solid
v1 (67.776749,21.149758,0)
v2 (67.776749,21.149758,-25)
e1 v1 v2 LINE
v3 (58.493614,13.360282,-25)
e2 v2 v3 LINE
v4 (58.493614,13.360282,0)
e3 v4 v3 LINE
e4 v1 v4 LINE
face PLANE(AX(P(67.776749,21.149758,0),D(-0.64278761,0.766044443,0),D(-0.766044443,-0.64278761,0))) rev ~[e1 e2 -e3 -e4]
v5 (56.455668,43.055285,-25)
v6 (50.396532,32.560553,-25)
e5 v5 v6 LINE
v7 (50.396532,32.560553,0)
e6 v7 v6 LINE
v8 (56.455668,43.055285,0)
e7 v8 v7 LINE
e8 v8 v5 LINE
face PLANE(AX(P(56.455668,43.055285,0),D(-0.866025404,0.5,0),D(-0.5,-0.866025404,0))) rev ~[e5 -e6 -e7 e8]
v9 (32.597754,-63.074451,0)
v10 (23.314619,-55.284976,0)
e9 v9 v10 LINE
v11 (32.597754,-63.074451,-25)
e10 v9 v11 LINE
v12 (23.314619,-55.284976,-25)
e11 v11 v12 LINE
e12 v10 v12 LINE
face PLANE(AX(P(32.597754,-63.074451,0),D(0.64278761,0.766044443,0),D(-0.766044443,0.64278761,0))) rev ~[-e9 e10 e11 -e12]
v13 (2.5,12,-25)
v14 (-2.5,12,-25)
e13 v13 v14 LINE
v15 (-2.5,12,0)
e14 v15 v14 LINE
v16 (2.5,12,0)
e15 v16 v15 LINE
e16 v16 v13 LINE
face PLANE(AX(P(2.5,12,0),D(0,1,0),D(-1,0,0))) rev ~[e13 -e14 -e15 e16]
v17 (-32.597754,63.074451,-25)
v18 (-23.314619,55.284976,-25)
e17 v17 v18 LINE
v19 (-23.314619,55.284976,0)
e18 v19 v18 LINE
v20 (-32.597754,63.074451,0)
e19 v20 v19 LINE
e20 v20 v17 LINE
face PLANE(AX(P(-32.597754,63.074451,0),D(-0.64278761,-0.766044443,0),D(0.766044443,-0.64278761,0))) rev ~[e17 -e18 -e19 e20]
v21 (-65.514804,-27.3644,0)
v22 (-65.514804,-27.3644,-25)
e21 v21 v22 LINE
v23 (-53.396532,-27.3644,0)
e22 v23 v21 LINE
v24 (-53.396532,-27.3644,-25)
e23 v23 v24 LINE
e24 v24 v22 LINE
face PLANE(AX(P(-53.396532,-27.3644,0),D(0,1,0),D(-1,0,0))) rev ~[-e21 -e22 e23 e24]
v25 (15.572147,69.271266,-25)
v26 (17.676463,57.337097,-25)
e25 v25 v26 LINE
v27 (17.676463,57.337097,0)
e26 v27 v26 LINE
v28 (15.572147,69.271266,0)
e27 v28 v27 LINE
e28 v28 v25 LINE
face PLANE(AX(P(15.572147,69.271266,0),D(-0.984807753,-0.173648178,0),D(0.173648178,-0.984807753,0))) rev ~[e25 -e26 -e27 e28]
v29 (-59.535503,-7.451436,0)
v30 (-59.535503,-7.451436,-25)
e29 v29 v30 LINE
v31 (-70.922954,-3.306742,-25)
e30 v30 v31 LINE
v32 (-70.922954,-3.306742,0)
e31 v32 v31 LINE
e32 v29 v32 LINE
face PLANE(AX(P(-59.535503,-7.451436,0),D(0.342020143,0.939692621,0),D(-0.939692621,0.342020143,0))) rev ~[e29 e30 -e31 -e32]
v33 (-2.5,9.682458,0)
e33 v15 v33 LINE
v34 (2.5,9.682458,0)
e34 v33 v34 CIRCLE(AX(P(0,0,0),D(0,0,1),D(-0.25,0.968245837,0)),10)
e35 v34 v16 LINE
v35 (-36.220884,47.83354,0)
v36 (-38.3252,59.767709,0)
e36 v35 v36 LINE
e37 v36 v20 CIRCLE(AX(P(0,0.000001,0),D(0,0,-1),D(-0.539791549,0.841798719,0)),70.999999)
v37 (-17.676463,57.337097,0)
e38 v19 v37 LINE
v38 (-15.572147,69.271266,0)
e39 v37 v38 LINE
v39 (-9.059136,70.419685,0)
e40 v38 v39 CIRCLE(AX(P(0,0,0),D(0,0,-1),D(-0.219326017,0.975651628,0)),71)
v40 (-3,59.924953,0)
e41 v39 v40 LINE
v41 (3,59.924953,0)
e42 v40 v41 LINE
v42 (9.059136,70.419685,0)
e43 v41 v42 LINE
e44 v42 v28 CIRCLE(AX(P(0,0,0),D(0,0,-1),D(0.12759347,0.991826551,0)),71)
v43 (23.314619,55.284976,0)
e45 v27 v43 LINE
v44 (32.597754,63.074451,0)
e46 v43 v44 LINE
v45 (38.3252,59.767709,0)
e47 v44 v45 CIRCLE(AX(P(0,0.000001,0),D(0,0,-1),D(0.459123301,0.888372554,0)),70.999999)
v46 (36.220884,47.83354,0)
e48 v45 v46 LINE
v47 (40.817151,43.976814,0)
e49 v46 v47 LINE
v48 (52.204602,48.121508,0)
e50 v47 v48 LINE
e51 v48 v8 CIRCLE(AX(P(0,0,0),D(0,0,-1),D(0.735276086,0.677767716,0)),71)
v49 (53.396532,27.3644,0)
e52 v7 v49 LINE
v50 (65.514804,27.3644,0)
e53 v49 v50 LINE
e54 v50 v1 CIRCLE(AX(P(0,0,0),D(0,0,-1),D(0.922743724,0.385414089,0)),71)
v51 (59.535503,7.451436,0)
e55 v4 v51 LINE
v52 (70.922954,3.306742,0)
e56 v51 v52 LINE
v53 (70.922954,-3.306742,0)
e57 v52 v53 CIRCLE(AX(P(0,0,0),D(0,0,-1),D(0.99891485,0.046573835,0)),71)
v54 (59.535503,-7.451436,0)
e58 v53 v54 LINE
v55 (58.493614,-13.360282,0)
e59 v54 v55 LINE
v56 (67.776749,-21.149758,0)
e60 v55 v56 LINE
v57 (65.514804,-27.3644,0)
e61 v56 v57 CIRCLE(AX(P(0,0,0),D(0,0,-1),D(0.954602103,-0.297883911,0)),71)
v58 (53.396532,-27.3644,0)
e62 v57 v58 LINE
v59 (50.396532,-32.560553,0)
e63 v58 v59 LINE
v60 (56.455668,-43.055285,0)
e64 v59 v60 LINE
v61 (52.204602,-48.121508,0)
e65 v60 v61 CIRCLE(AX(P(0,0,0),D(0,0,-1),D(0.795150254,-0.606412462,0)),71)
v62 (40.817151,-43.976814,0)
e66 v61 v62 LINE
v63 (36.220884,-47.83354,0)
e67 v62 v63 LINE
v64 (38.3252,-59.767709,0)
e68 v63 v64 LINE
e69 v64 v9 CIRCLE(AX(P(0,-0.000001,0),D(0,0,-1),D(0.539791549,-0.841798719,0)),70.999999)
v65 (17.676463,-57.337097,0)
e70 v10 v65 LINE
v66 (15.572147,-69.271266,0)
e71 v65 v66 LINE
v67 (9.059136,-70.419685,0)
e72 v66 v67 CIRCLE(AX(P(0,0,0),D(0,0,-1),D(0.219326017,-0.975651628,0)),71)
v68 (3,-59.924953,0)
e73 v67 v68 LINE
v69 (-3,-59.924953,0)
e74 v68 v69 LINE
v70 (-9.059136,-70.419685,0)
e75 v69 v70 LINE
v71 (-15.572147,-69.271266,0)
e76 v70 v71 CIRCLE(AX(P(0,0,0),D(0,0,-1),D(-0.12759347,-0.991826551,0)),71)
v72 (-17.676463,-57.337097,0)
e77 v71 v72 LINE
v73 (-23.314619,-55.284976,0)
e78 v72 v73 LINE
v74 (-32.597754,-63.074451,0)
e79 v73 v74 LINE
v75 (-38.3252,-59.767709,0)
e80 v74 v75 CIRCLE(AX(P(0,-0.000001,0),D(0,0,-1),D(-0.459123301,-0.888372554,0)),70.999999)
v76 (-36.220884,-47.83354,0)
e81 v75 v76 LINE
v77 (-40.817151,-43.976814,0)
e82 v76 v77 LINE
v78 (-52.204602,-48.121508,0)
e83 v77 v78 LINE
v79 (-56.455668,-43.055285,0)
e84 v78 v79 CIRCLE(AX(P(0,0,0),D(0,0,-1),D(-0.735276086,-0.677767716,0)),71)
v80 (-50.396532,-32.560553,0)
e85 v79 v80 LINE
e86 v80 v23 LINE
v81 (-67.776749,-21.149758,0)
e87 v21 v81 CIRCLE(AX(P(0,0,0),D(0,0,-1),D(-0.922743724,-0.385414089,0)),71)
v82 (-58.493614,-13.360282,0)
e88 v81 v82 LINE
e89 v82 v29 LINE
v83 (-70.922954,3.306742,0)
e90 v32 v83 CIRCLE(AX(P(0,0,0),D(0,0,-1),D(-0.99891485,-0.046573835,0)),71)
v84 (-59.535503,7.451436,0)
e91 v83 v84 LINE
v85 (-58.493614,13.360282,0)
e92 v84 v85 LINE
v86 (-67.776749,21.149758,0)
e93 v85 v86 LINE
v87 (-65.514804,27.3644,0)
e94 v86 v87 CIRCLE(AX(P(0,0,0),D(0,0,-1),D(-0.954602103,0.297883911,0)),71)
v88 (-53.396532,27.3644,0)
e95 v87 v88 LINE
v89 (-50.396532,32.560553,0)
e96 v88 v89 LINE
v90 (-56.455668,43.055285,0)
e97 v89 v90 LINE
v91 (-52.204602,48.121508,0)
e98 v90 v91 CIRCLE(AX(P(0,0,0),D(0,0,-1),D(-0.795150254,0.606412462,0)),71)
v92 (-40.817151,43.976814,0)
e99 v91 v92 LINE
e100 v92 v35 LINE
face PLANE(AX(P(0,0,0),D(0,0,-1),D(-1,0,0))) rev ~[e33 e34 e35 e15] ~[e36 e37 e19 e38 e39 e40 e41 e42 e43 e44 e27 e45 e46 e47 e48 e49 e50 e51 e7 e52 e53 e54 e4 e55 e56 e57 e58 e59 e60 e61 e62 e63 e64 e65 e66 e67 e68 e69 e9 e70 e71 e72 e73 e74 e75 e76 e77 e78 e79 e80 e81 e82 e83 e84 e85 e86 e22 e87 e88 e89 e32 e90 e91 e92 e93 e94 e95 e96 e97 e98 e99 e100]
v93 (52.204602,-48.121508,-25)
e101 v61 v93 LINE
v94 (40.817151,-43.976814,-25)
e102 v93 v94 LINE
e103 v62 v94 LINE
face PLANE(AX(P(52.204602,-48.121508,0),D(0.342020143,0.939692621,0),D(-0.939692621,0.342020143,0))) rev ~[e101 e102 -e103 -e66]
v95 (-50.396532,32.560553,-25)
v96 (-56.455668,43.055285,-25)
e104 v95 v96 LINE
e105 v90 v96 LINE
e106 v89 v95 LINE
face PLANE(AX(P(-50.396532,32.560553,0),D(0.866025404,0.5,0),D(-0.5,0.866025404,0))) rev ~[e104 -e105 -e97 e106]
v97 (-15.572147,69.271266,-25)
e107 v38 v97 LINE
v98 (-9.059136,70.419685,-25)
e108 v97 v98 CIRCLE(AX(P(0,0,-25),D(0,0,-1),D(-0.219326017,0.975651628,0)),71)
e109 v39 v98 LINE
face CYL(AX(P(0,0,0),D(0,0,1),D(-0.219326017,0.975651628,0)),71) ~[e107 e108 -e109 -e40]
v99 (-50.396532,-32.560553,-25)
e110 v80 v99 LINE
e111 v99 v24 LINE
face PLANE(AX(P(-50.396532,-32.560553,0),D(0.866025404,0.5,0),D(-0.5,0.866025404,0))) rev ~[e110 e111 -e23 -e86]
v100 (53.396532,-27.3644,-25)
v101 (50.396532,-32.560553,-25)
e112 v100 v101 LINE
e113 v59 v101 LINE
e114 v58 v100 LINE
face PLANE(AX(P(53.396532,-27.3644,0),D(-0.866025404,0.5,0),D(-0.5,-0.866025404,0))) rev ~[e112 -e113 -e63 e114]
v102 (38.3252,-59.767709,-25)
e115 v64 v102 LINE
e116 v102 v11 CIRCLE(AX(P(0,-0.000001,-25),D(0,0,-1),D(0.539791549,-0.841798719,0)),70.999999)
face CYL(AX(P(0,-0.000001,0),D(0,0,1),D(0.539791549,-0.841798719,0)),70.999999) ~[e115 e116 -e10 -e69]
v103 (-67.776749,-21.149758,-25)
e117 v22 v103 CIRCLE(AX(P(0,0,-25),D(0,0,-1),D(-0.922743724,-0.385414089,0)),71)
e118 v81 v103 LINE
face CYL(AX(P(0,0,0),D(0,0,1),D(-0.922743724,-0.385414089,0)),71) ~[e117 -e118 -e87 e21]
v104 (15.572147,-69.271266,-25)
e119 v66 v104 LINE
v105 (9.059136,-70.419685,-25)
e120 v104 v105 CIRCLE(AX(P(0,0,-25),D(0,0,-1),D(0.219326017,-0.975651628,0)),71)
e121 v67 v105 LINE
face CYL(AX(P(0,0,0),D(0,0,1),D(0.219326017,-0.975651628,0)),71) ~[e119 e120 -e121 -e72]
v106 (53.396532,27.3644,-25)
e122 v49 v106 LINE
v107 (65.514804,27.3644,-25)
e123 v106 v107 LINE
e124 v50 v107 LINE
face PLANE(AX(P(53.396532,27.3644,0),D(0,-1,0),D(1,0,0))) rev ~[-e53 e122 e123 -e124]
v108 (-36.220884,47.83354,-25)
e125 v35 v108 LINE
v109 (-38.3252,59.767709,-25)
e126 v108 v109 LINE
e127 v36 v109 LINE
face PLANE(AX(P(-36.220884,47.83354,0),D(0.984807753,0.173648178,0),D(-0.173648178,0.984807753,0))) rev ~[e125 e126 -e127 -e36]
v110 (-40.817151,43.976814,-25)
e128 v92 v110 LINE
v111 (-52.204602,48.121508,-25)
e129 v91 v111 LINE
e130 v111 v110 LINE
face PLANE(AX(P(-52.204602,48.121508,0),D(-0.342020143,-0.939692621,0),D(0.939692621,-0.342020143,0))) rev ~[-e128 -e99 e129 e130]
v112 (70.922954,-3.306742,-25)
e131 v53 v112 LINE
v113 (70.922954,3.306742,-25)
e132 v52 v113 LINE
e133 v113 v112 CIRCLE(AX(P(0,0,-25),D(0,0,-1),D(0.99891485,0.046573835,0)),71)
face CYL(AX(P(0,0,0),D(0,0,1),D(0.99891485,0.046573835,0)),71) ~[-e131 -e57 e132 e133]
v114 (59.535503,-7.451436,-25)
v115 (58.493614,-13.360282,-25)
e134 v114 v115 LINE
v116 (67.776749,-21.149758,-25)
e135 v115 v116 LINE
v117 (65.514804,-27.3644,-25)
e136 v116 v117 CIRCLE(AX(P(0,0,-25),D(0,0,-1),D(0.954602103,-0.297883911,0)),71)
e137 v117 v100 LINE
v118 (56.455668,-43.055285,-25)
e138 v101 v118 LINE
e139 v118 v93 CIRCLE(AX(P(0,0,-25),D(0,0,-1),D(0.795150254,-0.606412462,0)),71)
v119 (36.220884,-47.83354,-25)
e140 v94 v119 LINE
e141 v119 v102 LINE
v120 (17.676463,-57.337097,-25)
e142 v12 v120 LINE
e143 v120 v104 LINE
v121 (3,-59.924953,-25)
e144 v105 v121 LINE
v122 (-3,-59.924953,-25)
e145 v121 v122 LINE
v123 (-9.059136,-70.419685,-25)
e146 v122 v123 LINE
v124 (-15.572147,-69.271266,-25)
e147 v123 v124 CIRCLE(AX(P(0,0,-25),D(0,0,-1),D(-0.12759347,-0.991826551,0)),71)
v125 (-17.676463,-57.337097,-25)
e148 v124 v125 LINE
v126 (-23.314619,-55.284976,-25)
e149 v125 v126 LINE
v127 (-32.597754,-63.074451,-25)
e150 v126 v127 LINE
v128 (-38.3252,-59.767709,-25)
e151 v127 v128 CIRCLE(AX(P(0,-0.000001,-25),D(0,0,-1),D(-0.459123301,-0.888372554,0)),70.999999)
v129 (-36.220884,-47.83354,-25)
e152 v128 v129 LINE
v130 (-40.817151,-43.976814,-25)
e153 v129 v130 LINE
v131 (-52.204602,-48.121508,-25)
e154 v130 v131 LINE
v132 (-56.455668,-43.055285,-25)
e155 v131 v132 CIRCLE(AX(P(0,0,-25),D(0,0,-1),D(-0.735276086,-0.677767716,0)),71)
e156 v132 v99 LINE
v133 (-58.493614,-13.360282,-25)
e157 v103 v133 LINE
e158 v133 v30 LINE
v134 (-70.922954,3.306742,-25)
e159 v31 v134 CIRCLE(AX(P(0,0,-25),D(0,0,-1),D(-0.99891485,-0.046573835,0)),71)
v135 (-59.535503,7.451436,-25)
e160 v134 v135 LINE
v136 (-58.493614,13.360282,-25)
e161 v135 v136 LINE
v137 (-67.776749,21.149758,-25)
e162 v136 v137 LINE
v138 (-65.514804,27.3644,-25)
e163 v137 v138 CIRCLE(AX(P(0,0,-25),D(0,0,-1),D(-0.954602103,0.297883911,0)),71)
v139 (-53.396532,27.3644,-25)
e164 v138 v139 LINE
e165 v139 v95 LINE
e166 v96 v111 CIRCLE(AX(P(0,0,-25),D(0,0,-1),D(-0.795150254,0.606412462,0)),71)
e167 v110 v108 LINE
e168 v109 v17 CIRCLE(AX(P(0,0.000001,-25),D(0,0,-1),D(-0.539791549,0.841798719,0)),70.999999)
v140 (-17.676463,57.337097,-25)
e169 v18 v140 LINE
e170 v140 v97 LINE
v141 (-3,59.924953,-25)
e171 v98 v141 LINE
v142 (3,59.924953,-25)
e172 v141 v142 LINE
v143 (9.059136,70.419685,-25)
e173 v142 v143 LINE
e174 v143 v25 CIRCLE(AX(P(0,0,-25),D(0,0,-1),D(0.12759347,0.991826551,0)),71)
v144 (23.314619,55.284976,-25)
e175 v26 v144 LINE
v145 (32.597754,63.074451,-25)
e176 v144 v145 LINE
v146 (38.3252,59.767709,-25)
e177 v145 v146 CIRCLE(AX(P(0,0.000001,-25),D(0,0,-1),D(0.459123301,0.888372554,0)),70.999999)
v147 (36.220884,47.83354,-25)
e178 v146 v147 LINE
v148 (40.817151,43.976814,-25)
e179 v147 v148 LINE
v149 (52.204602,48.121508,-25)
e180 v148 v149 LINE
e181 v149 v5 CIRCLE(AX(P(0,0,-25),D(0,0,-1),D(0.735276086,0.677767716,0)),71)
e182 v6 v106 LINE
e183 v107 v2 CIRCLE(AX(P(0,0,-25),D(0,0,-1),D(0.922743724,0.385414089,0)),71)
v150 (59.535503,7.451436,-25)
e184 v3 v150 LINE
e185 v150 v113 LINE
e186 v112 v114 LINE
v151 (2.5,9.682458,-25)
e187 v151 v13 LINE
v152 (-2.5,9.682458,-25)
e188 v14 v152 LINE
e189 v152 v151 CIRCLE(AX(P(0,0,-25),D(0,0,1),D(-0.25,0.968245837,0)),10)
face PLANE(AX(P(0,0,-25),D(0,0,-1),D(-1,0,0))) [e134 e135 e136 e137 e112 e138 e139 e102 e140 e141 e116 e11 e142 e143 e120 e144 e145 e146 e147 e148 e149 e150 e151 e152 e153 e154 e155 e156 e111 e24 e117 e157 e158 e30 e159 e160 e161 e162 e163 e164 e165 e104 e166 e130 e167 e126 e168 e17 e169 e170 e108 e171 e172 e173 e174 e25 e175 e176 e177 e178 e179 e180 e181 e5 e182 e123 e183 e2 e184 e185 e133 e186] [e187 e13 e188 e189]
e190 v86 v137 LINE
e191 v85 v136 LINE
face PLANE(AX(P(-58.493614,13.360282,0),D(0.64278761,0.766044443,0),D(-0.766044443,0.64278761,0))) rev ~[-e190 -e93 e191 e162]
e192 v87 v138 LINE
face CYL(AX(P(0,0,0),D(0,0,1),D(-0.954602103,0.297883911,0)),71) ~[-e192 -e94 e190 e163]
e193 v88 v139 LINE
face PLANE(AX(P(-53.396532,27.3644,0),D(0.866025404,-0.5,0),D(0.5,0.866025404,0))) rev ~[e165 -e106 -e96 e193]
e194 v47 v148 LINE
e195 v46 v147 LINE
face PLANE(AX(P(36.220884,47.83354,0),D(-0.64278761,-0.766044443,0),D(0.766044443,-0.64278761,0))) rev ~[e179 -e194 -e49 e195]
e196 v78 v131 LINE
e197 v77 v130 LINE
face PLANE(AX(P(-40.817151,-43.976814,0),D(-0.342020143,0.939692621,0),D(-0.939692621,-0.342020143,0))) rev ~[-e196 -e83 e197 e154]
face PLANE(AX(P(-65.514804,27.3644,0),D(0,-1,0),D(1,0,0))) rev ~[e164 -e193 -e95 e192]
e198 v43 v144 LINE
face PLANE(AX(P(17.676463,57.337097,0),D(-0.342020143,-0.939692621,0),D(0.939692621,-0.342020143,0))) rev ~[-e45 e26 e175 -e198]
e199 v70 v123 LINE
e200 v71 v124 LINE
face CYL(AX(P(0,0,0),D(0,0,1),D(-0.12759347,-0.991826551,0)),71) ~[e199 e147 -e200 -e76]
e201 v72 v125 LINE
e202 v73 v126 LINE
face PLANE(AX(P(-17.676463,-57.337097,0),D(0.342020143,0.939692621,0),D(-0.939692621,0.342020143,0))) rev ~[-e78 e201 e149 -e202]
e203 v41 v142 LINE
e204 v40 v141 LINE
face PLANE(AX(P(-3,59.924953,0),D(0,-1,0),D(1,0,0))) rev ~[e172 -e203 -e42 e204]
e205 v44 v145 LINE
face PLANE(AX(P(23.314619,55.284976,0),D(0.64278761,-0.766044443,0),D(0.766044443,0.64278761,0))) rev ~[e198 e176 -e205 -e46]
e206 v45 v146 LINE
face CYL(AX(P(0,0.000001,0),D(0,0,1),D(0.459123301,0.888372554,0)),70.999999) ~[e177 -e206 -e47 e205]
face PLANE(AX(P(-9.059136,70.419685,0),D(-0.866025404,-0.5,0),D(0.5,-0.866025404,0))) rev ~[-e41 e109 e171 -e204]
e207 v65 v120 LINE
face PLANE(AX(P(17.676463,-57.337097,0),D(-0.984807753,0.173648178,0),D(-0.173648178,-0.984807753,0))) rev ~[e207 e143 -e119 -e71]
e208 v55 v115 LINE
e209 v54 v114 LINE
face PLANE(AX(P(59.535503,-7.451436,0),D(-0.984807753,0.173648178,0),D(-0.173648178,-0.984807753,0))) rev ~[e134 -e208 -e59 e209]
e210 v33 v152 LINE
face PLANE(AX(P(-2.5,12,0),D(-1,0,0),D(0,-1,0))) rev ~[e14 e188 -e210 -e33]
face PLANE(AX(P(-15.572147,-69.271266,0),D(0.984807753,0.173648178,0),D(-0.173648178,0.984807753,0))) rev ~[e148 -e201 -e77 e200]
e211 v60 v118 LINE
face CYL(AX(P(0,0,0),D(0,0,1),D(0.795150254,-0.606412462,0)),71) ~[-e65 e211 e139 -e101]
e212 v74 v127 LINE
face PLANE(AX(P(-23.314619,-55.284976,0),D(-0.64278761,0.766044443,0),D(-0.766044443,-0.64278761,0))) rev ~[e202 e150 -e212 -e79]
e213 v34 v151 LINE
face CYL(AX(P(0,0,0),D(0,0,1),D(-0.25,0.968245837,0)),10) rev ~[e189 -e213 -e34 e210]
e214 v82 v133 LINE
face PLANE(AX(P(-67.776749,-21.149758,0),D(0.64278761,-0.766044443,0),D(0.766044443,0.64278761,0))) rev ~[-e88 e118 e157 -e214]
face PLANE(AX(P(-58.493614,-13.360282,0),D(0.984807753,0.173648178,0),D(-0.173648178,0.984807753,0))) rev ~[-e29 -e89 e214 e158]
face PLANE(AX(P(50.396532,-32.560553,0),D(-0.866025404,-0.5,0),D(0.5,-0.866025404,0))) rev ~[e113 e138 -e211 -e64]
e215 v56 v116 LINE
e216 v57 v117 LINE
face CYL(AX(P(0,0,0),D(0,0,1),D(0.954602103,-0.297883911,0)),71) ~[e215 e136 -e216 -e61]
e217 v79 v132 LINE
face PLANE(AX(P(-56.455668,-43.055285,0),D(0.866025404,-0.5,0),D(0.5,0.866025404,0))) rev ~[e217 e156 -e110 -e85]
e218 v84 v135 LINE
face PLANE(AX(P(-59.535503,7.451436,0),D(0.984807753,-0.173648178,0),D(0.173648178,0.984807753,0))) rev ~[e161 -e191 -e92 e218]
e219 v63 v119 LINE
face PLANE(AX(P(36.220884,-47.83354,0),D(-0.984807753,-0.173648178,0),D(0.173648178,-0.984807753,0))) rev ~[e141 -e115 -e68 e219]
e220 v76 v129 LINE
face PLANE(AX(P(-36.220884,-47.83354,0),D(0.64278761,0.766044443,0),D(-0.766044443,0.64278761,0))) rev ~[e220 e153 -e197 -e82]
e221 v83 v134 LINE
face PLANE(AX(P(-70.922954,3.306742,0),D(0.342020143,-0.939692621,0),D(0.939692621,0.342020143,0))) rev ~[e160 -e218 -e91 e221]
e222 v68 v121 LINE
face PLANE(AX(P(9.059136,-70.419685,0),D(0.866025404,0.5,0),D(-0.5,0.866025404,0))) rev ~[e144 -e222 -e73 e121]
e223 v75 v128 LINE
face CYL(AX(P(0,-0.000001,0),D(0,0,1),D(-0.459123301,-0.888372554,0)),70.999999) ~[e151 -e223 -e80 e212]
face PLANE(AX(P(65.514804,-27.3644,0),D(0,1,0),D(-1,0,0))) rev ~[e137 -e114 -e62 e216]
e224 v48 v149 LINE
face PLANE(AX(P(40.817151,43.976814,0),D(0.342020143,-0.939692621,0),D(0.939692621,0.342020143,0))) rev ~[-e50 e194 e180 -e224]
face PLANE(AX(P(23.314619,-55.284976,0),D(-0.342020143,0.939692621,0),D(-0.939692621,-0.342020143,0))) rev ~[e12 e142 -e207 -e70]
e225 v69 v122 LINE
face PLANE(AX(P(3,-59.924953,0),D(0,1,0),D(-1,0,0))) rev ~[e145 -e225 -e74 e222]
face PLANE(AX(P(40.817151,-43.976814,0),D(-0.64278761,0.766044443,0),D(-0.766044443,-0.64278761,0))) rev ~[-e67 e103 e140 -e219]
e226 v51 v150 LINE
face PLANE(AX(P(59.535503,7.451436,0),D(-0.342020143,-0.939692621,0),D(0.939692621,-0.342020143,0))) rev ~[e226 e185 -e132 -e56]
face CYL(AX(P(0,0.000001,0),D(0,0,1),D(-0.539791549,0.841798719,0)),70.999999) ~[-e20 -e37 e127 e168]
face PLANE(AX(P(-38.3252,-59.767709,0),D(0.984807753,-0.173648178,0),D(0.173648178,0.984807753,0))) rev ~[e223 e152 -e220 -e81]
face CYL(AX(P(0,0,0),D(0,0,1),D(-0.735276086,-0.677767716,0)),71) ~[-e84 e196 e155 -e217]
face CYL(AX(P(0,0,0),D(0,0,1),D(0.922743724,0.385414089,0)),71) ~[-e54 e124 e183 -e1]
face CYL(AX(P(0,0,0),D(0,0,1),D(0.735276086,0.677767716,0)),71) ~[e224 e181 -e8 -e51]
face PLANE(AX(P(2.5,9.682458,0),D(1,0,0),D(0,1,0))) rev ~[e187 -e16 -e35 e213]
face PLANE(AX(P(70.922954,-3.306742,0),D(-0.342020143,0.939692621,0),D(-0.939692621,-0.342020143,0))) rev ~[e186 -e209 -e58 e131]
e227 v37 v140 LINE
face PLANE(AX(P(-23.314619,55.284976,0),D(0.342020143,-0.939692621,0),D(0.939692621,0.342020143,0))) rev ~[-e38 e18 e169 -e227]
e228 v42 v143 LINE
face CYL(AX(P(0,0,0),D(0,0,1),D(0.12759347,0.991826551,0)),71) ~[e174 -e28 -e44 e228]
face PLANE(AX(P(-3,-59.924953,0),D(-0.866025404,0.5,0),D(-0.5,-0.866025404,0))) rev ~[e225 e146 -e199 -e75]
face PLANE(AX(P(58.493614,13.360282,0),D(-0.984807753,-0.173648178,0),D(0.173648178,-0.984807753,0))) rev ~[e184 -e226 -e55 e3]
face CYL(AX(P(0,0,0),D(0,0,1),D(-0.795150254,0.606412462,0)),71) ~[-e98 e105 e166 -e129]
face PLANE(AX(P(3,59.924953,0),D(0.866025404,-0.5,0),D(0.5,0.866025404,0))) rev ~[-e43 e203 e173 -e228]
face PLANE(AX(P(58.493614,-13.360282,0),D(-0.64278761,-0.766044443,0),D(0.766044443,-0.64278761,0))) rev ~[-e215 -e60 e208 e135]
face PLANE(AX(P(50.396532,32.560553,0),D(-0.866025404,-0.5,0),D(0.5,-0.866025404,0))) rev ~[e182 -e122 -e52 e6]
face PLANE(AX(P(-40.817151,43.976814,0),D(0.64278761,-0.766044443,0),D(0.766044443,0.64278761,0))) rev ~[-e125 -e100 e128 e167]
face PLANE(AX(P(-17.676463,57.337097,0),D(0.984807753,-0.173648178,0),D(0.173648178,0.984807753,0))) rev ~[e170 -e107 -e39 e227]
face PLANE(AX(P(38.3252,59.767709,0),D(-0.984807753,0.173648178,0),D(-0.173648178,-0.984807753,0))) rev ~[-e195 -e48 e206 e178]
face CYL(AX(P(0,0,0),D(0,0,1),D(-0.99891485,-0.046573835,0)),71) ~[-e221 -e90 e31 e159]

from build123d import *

# Parameters (mm, degrees)
BOSS_EXTRUDE1_DEPTH = 25


with BuildPart() as part:
    # Sketch1 → Boss-Extrude1 (new body)
    with BuildSketch(Plane.XY):
        with BuildLine():
            Line((-3, 59.924953066), (3, 59.924953066))
            Line((3, 59.924953066), (9.05913636, 70.419685092))
            ThreePointArc((9.05913636, 70.419685092), (12.329020614, 69.921350464), (15.5721472, 69.271265555))
            Line((15.5721472, 69.271265555), (17.676463174, 57.337096627))
            Line((17.676463174, 57.337096627), (23.314618899, 55.284975767))
            Line((23.314618899, 55.284975767), (32.597754376, 63.074451322))
            ThreePointArc((32.597754376, 63.074451322), (35.5, 61.487803669), (38.325199987, 59.767709057))
            Line((38.325199987, 59.767709057), (36.220884013, 47.83354013))
            Line((36.220884013, 47.83354013), (40.817150671, 43.976814472))
            Line((40.817150671, 43.976814472), (52.204602123, 48.121507844))
            ThreePointArc((52.204602123, 48.121507844), (54.389155461, 45.637920288), (56.455668036, 43.05528477))
            Line((56.455668036, 43.05528477), (50.396531676, 32.560552745))
            Line((50.396531676, 32.560552745), (53.396531676, 27.364400322))
            Line((53.396531676, 27.364400322), (65.514804396, 27.364400322))
            ThreePointArc((65.514804396, 27.364400322), (66.718176076, 24.283430176), (67.776749323, 21.149757711))
            Line((67.776749323, 21.149757711), (58.493613846, 13.360282156))
            Line((58.493613846, 13.360282156), (59.535502912, 7.451435638))
            Line((59.535502912, 7.451435638), (70.922954363, 3.306742265))
            ThreePointArc((70.922954363, 3.306742265), (71, 0), (70.922954363, -3.306742265))
            Line((70.922954363, -3.306742265), (59.535502912, -7.451435638))
            Line((59.535502912, -7.451435638), (58.493613846, -13.360282156))
            Line((58.493613846, -13.360282156), (67.776749323, -21.149757711))
            ThreePointArc((67.776749323, -21.149757711), (66.718176076, -24.283430176), (65.514804396, -27.364400322))
            Line((65.514804396, -27.364400322), (53.396531676, -27.364400322))
            Line((53.396531676, -27.364400322), (50.396531676, -32.560552745))
            Line((50.396531676, -32.560552745), (56.455668036, -43.05528477))
            ThreePointArc((56.455668036, -43.05528477), (54.389155461, -45.637920288), (52.204602123, -48.121507844))
            Line((52.204602123, -48.121507844), (40.817150671, -43.976814472))
            Line((40.817150671, -43.976814472), (36.220884013, -47.83354013))
            Line((36.220884013, -47.83354013), (38.325199987, -59.767709057))
            ThreePointArc((38.325199987, -59.767709057), (35.5, -61.487803669), (32.597754376, -63.074451322))
            Line((32.597754376, -63.074451322), (23.314618899, -55.284975767))
            Line((23.314618899, -55.284975767), (17.676463174, -57.337096627))
            Line((17.676463174, -57.337096627), (15.5721472, -69.271265555))
            ThreePointArc((15.5721472, -69.271265555), (12.329020614, -69.921350464), (9.05913636, -70.419685092))
            Line((9.05913636, -70.419685092), (3, -59.924953066))
            Line((3, -59.924953066), (-3, -59.924953066))
            Line((-3, -59.924953066), (-9.05913636, -70.419685092))
            ThreePointArc((-9.05913636, -70.419685092), (-12.329020614, -69.921350464), (-15.5721472, -69.271265555))
            Line((-15.5721472, -69.271265555), (-17.676463174, -57.337096627))
            Line((-17.676463174, -57.337096627), (-23.314618899, -55.284975767))
            Line((-23.314618899, -55.284975767), (-32.597754376, -63.074451322))
            ThreePointArc((-32.597754376, -63.074451322), (-35.5, -61.487803669), (-38.325199987, -59.767709057))
            Line((-38.325199987, -59.767709057), (-36.220884013, -47.83354013))
            Line((-36.220884013, -47.83354013), (-40.817150671, -43.976814472))
            Line((-40.817150671, -43.976814472), (-52.204602123, -48.121507844))
            ThreePointArc((-52.204602123, -48.121507844), (-54.389155461, -45.637920288), (-56.455668036, -43.05528477))
            Line((-56.455668036, -43.05528477), (-50.396531676, -32.560552745))
            Line((-50.396531676, -32.560552745), (-53.396531676, -27.364400322))
            Line((-53.396531676, -27.364400322), (-65.514804396, -27.364400322))
            ThreePointArc((-65.514804396, -27.364400322), (-66.718176076, -24.283430176), (-67.776749323, -21.149757711))
            Line((-67.776749323, -21.149757711), (-58.493613846, -13.360282156))
            Line((-58.493613846, -13.360282156), (-59.535502912, -7.451435638))
            Line((-59.535502912, -7.451435638), (-70.922954363, -3.306742265))
            ThreePointArc((-70.922954363, -3.306742265), (-71, 0), (-70.922954363, 3.306742265))
            Line((-70.922954363, 3.306742265), (-59.535502912, 7.451435638))
            Line((-59.535502912, 7.451435638), (-58.493613846, 13.360282156))
            Line((-58.493613846, 13.360282156), (-67.776749323, 21.149757711))
            ThreePointArc((-67.776749323, 21.149757711), (-66.718176076, 24.283430176), (-65.514804396, 27.364400322))
            Line((-65.514804396, 27.364400322), (-53.396531676, 27.364400322))
            Line((-53.396531676, 27.364400322), (-50.396531676, 32.560552745))
            Line((-50.396531676, 32.560552745), (-56.455668036, 43.05528477))
            ThreePointArc((-56.455668036, 43.05528477), (-54.389155461, 45.637920288), (-52.204602123, 48.121507844))
            Line((-52.204602123, 48.121507844), (-40.817150671, 43.976814472))
            Line((-40.817150671, 43.976814472), (-36.220884013, 47.83354013))
            Line((-36.220884013, 47.83354013), (-38.325199987, 59.767709057))
            ThreePointArc((-38.325199987, 59.767709057), (-35.5, 61.487803669), (-32.597754376, 63.074451322))
            Line((-32.597754376, 63.074451322), (-23.314618899, 55.284975767))
            Line((-23.314618899, 55.284975767), (-17.676463174, 57.337096627))
            Line((-17.676463174, 57.337096627), (-15.5721472, 69.271265555))
            ThreePointArc((-15.5721472, 69.271265555), (-12.329020614, 69.921350464), (-9.05913636, 70.419685092))
            Line((-9.05913636, 70.419685092), (-3, 59.924953066))
        make_face()
        with BuildLine():
            Line((2.5, 9.682458366), (2.5, 12))
            Line((2.5, 12), (-2.5, 12))
            Line((-2.5, 12), (-2.5, 9.682458366))
            ThreePointArc((-2.5, 9.682458366), (0, -10), (2.5, 9.682458366))
        make_face(mode=Mode.SUBTRACT)
    extrude(amount=-BOSS_EXTRUDE1_DEPTH)


solid = part.part
